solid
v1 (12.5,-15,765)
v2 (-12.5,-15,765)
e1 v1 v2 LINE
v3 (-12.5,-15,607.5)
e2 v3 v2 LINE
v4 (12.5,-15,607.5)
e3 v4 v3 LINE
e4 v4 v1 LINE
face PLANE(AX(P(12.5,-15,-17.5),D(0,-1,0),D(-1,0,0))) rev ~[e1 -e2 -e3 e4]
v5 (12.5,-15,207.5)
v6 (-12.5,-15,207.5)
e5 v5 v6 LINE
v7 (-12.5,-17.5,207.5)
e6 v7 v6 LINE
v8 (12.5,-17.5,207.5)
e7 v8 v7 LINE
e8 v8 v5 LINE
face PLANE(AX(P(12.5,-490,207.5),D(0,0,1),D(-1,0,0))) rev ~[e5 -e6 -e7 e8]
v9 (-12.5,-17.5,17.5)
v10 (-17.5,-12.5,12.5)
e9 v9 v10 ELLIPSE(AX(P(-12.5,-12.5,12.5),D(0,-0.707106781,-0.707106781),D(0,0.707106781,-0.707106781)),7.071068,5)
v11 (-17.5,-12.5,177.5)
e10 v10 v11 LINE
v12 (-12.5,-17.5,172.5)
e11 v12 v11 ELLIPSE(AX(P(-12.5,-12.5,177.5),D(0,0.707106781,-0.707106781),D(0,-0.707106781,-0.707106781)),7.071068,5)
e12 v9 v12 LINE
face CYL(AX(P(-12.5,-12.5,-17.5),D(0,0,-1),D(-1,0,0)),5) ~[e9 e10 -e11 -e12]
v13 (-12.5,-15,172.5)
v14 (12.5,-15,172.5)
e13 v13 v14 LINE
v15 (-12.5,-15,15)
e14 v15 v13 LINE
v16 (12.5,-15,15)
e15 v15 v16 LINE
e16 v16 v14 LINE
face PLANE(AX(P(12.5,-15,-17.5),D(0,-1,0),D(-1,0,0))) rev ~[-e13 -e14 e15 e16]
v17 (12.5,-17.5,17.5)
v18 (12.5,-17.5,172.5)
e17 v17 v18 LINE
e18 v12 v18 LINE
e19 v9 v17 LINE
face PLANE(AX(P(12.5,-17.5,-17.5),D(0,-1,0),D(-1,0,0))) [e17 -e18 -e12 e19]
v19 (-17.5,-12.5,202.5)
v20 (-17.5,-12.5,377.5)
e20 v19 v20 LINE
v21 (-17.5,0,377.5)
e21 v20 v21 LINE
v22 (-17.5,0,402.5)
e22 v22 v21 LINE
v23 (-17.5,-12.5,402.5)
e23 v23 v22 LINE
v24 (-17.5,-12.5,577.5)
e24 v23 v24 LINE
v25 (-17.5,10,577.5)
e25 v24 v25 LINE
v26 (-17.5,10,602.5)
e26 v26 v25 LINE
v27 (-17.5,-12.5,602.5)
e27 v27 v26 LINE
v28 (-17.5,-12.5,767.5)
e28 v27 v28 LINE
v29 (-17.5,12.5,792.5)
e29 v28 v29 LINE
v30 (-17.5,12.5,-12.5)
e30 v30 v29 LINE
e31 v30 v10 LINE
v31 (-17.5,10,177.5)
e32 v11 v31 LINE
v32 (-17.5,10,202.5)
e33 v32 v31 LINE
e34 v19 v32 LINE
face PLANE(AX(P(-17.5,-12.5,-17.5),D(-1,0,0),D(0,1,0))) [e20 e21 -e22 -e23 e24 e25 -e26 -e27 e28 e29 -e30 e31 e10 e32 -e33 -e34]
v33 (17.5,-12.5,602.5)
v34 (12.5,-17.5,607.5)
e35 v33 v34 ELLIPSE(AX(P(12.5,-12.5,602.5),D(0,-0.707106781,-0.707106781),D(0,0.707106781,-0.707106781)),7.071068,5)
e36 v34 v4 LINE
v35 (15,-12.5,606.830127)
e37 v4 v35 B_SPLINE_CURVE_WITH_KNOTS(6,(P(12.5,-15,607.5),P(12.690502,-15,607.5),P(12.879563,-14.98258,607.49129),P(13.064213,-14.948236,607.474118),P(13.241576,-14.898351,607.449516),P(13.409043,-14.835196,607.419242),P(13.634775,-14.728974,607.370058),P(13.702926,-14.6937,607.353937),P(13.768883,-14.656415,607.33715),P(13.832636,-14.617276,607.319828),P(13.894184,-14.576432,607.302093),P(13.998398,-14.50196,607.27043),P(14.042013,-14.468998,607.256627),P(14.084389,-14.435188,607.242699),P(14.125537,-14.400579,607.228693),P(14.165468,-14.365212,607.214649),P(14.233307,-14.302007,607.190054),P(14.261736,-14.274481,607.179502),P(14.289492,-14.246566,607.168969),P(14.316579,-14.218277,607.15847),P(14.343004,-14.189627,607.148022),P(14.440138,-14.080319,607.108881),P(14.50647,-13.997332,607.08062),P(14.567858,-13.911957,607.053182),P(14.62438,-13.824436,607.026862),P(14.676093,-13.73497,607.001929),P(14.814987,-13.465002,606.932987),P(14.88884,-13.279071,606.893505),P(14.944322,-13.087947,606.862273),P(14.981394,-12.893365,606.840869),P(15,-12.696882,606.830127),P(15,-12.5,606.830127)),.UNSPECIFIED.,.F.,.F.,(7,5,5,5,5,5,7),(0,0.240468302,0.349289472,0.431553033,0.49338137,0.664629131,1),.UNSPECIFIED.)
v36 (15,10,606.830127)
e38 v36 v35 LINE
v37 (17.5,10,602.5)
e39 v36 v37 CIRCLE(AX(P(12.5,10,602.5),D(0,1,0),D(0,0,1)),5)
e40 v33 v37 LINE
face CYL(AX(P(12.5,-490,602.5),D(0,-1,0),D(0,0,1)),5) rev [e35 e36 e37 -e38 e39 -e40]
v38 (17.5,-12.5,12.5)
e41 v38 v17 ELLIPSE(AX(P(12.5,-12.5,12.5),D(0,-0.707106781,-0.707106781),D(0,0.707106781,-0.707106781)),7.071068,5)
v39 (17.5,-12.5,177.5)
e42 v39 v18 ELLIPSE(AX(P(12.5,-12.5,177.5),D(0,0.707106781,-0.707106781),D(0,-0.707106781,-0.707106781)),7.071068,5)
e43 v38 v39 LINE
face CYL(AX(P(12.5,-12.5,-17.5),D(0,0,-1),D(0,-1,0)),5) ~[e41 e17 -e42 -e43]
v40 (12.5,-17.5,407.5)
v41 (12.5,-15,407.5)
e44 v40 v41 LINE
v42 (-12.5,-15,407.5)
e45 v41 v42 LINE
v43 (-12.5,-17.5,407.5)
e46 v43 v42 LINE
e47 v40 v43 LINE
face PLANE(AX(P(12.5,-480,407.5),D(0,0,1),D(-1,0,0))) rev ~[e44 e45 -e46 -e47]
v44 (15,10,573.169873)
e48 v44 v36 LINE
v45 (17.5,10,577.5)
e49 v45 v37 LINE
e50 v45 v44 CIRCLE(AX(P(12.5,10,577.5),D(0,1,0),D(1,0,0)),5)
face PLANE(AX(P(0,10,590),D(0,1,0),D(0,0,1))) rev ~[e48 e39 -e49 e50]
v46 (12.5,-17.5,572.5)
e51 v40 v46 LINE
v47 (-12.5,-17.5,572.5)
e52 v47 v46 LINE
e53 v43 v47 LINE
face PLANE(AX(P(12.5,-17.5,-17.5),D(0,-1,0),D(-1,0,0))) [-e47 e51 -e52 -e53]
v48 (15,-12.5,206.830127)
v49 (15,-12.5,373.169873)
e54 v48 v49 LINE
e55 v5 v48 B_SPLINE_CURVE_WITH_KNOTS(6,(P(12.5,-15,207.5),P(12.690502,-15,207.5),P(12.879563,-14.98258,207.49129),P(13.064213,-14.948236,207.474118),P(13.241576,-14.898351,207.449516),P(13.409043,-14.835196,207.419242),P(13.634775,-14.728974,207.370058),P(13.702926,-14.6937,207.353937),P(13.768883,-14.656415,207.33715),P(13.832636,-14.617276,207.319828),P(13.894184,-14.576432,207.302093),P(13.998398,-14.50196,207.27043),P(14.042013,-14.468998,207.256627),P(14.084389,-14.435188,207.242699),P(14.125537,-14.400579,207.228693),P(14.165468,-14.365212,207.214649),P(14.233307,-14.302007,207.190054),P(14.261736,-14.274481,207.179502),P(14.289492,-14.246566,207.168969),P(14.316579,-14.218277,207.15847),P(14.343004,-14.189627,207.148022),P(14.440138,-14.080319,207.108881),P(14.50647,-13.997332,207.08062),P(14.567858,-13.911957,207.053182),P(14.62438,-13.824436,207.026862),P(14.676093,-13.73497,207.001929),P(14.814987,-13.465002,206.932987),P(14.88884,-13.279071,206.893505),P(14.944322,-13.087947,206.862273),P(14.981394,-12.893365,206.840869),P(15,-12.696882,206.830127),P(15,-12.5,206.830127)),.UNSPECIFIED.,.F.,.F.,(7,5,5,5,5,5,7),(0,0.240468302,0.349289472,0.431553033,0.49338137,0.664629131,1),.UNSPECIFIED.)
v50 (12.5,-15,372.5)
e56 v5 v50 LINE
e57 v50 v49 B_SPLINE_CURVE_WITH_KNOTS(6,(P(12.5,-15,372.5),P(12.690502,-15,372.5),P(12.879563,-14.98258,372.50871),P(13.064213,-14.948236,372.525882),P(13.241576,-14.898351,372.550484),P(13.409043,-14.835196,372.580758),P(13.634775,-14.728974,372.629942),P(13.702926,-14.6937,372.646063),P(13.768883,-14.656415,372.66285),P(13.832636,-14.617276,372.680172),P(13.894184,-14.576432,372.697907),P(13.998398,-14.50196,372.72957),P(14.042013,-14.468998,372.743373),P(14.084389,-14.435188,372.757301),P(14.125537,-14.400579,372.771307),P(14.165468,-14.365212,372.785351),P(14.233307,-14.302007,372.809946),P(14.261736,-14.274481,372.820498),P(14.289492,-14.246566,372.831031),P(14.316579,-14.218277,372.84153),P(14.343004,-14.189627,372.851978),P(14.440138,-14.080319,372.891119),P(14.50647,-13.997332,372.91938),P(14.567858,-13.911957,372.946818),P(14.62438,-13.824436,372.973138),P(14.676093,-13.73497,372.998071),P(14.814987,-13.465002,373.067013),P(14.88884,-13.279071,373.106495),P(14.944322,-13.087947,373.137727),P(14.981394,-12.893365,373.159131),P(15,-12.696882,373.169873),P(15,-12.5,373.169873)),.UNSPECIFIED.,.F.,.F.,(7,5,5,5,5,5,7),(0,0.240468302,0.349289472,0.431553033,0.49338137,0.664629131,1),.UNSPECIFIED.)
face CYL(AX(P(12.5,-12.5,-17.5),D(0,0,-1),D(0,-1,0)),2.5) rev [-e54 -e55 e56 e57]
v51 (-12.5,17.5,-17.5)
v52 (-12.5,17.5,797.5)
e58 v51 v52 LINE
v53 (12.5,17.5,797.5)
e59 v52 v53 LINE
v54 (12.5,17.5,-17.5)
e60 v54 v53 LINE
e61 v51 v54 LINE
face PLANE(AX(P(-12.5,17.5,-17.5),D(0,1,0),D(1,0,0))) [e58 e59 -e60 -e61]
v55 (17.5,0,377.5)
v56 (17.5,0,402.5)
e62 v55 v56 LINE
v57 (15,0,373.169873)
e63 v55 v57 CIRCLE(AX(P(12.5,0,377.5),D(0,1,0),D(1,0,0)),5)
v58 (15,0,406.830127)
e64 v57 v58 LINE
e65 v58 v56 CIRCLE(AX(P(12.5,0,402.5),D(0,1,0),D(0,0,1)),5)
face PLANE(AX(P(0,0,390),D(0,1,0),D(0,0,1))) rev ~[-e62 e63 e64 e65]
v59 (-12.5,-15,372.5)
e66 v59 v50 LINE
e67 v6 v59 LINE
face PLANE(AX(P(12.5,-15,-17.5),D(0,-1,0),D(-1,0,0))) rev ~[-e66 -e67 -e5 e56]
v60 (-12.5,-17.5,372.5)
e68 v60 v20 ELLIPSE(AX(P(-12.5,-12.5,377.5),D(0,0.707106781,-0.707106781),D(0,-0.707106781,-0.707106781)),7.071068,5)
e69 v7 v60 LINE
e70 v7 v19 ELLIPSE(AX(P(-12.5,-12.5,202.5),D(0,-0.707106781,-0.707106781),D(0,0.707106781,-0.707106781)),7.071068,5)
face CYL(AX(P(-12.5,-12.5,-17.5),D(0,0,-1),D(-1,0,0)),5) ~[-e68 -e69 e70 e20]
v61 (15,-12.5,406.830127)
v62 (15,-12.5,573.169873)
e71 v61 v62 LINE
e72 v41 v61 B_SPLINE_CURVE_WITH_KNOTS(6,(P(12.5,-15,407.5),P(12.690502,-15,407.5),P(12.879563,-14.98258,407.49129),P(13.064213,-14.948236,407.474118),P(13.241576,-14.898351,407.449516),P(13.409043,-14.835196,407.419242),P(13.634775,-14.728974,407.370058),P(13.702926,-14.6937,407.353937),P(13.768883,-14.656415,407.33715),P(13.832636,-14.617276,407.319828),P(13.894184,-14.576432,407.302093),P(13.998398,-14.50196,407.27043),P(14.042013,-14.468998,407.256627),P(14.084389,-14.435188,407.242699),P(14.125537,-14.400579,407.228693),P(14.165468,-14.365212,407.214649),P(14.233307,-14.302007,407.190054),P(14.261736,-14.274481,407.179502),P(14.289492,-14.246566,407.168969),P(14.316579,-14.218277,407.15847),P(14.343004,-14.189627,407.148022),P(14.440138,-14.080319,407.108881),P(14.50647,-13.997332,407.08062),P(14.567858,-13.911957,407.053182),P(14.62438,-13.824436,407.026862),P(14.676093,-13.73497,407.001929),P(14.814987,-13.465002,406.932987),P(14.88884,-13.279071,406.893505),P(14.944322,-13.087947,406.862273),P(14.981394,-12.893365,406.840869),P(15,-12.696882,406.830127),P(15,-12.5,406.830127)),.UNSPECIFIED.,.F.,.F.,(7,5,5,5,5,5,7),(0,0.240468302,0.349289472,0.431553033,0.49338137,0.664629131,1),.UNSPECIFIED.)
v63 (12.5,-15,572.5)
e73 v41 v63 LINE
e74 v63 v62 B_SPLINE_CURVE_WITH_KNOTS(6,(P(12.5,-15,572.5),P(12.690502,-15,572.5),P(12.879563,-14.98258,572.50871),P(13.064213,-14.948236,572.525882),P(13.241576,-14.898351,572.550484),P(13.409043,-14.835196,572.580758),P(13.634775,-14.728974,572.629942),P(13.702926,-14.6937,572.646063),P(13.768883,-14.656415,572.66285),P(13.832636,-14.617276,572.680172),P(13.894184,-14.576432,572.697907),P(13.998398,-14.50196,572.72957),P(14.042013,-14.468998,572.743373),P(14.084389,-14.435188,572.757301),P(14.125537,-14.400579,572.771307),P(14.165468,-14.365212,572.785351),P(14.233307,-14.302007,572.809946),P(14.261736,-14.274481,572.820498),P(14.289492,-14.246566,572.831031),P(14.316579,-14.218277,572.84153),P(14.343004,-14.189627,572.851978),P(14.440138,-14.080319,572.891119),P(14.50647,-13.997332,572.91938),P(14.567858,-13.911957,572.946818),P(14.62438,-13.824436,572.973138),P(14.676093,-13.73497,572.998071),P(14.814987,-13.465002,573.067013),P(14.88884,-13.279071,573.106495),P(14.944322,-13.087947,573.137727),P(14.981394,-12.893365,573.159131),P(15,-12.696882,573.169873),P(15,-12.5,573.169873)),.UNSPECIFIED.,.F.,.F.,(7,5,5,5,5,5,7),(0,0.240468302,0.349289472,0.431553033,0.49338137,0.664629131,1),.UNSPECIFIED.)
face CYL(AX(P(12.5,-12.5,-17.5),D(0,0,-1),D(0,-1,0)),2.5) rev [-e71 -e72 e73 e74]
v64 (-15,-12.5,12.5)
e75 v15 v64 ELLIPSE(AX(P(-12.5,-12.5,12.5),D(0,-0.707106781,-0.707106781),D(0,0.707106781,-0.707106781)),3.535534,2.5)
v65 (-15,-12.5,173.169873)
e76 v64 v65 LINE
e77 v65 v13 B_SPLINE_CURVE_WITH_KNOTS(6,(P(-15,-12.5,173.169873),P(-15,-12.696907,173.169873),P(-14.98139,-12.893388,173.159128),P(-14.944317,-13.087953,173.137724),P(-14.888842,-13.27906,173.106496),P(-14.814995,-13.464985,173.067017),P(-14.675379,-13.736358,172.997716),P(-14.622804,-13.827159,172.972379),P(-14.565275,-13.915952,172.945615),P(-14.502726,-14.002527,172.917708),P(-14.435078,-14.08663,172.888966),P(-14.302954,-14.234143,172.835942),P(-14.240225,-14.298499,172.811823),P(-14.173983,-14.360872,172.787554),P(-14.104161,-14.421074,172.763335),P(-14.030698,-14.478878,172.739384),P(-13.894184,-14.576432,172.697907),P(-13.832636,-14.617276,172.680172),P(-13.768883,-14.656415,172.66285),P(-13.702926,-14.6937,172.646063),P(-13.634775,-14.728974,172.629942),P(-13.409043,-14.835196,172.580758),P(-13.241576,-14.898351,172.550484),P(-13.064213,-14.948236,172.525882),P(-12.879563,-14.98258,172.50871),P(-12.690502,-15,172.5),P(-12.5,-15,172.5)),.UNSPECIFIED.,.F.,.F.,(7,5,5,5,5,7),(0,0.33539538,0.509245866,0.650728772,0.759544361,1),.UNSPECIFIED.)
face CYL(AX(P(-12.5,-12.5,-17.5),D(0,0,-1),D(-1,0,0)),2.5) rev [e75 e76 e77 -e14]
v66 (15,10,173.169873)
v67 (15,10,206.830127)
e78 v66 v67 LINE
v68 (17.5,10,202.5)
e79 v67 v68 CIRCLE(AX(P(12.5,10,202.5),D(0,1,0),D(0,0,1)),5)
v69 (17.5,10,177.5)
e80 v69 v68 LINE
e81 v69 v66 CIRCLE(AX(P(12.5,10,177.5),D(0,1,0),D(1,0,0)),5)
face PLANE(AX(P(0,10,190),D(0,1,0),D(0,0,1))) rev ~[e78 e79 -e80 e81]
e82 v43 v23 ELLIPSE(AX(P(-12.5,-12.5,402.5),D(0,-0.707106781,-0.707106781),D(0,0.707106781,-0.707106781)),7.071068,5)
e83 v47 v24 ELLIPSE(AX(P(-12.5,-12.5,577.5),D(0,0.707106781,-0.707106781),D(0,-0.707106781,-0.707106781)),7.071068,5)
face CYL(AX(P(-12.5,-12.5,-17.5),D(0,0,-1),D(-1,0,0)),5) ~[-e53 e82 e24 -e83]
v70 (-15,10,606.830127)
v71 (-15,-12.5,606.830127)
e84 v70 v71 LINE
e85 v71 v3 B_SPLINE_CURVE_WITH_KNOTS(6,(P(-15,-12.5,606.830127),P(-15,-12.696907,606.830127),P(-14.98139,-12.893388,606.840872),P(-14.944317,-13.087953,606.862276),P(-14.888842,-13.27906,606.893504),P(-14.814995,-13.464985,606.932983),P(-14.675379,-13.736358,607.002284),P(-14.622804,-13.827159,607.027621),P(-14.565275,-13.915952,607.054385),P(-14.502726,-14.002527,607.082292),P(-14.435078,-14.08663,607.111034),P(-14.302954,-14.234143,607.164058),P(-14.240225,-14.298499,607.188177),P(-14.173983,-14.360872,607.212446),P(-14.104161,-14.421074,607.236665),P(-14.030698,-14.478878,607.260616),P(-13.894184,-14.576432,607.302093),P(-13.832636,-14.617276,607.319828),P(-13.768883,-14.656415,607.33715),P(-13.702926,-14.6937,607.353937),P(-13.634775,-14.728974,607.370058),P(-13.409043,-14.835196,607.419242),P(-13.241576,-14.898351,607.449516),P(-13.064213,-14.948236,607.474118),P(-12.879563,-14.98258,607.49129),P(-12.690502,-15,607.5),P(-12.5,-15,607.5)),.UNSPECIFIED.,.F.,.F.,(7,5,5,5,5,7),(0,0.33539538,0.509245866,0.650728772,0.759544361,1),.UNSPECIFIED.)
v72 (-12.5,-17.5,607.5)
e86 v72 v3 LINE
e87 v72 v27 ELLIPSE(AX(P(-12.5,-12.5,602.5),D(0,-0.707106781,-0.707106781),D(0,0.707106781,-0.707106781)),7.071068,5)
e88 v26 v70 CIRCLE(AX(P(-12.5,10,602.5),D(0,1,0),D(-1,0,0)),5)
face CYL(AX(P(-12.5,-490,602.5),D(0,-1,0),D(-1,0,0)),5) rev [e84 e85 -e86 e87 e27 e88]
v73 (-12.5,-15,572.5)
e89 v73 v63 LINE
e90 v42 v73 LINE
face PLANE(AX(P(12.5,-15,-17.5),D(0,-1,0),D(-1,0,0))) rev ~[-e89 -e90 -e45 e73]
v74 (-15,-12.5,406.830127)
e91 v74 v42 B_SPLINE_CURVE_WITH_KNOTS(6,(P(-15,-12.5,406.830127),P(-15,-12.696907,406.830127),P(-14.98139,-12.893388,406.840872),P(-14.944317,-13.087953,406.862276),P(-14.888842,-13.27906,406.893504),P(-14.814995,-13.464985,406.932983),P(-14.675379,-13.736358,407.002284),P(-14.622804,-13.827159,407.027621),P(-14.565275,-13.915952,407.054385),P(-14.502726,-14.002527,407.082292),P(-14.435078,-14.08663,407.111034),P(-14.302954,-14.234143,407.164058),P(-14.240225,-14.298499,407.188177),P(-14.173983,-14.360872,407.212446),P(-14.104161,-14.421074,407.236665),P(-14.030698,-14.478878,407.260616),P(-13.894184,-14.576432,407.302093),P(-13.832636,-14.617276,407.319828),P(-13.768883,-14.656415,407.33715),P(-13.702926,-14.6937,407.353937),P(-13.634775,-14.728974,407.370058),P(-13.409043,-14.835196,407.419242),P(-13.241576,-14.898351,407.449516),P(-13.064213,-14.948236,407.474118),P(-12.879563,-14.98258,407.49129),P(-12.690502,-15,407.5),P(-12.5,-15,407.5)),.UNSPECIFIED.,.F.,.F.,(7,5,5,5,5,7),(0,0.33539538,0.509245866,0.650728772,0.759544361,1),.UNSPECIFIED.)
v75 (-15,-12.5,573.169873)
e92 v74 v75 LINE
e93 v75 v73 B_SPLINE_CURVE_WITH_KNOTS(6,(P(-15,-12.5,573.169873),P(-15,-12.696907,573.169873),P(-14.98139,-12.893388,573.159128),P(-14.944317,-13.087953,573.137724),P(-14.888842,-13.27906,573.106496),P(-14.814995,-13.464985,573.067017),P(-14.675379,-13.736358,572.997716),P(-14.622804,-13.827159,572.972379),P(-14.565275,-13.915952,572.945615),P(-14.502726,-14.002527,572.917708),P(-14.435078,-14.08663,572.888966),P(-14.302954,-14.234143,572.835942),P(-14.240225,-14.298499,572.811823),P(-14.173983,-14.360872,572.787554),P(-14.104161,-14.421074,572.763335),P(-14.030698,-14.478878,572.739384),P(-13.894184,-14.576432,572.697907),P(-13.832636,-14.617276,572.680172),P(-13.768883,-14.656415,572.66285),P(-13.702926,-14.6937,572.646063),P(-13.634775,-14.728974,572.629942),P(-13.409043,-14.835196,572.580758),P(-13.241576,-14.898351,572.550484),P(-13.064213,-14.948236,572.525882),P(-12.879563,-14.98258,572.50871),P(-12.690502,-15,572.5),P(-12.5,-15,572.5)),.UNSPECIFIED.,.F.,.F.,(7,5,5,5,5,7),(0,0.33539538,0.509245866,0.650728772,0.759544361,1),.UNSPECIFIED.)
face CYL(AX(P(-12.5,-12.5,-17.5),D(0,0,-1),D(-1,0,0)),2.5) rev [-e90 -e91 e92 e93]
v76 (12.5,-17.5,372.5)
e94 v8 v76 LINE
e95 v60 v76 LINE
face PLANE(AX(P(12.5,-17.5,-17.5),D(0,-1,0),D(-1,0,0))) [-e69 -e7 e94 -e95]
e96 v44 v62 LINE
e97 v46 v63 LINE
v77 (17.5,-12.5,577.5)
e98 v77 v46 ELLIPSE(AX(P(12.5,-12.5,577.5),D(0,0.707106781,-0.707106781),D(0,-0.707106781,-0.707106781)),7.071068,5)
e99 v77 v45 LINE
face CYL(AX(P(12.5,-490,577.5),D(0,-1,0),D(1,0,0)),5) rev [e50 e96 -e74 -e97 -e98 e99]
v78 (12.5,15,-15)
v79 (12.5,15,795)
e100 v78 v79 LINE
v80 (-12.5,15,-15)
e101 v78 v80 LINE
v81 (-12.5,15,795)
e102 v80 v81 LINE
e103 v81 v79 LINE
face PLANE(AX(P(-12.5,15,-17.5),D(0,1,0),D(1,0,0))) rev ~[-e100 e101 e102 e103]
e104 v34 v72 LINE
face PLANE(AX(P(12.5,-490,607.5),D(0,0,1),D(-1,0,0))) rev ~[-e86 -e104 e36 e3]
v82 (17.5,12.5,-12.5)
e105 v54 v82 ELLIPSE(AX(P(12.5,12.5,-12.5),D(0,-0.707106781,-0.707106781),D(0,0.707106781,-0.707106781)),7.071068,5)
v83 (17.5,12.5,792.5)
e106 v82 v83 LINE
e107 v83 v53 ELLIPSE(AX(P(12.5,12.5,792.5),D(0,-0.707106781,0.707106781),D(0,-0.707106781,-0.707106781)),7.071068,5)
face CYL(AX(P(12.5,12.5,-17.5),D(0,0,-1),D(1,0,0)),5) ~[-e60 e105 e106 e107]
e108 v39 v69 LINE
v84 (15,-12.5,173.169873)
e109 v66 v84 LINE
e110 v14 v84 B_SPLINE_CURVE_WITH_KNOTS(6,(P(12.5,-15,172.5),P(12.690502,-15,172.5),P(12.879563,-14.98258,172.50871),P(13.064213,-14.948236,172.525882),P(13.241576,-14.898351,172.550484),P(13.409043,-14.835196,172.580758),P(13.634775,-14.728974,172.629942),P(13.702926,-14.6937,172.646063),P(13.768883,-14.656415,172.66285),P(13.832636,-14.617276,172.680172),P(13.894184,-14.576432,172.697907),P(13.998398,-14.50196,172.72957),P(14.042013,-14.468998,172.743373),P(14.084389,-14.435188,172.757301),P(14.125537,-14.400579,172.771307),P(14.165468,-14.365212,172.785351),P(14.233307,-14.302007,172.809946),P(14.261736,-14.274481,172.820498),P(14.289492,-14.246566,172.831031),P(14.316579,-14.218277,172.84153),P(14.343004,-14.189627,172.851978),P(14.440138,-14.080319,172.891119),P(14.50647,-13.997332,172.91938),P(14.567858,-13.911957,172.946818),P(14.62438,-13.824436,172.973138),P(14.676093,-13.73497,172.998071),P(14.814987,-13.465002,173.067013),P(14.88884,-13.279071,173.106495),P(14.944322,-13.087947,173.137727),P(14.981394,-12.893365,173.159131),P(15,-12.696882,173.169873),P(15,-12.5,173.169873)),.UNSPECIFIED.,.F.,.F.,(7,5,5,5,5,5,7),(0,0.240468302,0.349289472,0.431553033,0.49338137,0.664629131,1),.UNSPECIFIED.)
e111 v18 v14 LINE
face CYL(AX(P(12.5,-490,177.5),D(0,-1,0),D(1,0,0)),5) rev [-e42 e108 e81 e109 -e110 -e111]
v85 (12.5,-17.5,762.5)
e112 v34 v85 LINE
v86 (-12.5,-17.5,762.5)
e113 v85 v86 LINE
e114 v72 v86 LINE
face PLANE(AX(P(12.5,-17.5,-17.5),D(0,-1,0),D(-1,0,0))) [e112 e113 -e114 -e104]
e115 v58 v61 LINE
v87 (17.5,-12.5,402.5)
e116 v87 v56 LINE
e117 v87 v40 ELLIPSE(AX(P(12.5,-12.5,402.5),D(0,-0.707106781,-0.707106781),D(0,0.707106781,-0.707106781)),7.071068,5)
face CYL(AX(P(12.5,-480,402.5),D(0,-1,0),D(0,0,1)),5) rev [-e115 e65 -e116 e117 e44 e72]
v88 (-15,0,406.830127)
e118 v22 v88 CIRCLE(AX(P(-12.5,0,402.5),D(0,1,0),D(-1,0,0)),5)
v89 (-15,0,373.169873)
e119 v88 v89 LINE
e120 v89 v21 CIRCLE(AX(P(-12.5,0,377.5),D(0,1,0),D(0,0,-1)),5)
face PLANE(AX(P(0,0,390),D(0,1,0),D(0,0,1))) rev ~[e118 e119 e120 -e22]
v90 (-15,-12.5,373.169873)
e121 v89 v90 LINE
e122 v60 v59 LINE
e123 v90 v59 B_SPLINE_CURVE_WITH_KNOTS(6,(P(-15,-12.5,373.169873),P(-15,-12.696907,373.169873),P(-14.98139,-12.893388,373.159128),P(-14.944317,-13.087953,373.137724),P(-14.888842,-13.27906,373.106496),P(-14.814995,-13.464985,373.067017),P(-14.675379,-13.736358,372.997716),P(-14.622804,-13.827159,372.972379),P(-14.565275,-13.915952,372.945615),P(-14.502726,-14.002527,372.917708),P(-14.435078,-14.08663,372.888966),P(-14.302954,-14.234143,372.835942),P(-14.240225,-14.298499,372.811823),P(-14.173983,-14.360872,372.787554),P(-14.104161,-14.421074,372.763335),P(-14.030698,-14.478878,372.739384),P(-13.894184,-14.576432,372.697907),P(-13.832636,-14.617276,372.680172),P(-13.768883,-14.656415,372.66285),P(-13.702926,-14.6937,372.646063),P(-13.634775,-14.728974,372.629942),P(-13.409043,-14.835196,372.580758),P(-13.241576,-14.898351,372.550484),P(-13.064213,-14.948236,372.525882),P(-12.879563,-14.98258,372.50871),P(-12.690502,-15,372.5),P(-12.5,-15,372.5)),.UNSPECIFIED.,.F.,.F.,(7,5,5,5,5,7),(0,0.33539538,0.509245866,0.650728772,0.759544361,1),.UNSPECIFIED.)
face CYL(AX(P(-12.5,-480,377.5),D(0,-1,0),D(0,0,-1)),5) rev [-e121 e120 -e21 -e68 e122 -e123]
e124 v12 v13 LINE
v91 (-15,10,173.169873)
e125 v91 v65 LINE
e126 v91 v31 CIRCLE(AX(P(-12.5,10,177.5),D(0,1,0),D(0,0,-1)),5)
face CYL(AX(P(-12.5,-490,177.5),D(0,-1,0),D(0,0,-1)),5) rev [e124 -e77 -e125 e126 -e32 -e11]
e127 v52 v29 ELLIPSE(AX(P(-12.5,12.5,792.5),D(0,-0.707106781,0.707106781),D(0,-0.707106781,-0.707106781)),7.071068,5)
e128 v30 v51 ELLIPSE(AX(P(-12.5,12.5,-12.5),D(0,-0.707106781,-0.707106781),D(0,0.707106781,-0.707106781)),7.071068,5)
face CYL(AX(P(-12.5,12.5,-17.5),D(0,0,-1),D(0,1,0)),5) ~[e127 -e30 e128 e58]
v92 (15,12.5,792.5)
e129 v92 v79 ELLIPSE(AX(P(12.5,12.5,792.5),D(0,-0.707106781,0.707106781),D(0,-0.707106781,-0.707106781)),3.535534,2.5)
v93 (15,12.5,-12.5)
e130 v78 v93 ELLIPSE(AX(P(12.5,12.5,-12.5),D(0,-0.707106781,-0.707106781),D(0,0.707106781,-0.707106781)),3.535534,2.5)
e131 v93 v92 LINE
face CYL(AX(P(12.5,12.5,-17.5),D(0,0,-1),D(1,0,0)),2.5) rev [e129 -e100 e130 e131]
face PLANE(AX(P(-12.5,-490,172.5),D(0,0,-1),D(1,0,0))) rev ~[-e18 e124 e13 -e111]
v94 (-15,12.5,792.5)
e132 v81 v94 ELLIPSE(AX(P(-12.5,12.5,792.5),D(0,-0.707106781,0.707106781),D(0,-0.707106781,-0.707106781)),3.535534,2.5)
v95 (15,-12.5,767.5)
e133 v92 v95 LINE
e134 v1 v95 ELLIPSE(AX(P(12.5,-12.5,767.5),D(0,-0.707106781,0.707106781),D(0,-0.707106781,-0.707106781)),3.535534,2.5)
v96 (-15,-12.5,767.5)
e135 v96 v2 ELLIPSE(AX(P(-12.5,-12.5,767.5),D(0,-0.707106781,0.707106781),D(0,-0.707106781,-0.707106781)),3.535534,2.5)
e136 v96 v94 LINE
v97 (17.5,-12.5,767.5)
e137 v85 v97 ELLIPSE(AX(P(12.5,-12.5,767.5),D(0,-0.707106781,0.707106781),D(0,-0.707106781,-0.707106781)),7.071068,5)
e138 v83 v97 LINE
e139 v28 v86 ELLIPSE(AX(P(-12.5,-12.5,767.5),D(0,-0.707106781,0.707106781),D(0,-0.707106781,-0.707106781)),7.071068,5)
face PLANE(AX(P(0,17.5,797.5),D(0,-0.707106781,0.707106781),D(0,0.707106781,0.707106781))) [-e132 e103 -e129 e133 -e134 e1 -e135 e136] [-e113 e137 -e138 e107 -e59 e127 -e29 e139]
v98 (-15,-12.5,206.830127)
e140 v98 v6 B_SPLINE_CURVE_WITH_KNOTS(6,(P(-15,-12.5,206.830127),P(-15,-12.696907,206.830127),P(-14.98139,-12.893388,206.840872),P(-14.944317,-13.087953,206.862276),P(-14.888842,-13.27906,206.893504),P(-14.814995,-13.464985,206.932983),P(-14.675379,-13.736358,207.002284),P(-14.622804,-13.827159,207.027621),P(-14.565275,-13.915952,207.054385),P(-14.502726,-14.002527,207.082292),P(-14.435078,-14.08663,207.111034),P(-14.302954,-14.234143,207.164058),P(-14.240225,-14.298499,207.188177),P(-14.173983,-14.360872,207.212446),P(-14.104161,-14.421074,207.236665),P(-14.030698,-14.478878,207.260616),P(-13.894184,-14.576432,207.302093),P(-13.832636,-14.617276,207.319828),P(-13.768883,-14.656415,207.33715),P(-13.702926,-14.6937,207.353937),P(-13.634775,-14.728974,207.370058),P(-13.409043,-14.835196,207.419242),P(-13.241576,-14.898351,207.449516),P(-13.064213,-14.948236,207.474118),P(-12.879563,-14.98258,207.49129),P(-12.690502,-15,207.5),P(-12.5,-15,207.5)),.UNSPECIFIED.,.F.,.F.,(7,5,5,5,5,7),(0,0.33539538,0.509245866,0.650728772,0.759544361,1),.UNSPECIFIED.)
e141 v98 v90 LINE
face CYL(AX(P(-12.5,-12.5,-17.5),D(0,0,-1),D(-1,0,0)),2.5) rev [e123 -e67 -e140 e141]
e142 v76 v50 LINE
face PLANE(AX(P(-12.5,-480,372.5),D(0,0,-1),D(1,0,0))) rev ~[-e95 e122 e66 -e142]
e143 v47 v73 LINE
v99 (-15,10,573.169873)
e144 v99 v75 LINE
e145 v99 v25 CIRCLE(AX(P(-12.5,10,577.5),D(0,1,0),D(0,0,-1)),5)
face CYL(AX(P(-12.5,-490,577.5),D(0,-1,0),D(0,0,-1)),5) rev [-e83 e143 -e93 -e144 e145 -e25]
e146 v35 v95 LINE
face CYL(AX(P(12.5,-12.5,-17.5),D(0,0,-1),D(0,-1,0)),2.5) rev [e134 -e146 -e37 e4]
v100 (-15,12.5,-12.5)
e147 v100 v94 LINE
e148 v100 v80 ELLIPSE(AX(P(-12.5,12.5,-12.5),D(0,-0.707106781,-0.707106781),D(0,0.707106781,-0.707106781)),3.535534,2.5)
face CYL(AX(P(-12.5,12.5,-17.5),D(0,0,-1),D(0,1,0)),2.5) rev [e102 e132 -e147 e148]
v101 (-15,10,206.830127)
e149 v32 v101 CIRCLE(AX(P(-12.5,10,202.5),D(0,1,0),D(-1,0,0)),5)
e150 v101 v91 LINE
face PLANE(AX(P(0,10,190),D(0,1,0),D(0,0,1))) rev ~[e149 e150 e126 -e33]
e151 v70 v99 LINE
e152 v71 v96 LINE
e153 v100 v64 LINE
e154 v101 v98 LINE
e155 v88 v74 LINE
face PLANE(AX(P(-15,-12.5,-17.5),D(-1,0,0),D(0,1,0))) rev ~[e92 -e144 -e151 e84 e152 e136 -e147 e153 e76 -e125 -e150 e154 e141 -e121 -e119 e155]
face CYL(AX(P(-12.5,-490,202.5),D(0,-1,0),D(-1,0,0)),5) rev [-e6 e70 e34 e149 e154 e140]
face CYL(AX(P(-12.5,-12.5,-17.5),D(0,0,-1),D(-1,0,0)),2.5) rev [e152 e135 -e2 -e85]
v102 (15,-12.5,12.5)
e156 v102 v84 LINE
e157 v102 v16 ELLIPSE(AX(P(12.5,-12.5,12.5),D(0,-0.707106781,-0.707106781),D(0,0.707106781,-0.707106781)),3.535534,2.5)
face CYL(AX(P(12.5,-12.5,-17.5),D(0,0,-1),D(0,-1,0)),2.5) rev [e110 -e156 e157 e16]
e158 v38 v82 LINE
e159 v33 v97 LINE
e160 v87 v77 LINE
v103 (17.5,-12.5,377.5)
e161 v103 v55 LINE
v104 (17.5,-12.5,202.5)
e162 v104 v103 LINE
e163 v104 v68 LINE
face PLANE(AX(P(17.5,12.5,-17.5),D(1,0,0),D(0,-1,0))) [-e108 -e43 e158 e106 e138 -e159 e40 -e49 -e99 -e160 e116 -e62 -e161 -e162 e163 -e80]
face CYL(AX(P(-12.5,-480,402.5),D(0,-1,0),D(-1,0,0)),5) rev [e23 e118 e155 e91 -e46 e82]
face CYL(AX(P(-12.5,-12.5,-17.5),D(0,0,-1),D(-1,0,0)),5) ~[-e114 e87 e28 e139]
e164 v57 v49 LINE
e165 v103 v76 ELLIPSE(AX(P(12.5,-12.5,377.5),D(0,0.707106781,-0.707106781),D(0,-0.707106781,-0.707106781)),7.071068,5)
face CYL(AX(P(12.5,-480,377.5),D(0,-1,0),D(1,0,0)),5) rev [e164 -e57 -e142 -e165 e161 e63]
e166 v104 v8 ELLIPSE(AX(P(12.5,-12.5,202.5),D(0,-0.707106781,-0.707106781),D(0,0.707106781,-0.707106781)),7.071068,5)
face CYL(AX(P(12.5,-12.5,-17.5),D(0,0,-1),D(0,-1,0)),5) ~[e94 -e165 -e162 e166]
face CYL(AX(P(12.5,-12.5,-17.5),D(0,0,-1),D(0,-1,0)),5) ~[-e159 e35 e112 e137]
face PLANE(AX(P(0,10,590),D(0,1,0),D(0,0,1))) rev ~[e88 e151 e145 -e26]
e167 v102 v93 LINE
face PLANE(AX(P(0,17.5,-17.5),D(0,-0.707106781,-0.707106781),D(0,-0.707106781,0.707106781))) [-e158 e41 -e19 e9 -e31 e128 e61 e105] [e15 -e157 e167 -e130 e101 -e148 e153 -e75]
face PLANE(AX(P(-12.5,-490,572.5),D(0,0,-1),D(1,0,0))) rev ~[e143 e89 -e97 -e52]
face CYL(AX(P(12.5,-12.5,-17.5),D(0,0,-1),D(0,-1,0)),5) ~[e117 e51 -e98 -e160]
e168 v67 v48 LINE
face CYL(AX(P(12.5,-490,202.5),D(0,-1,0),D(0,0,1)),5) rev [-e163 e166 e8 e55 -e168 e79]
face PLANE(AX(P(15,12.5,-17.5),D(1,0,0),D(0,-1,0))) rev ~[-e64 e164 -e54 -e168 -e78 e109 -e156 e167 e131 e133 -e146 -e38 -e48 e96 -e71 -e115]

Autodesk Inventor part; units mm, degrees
ref_plane "Start plane" through (0, 0, -17.5) normal (0, 0, 1) x (1, 0, 0)
ref_plane "End plane" through (0, 0, 797.5) normal (0, 0, 1) x (1, 0, 0)
sketch "Sketch" plane through (0, 0, 0) normal (0, 0, 1) x (1, 0, 0)
  line L0 (-17.5, -12.5) -> (-17.5, 12.5)
  line L1 (-12.5, 17.5) -> (12.5, 17.5)
  line L2 (17.5, 12.5) -> (17.5, -12.5)
  line L3 (12.5, -17.5) -> (-12.5, -17.5)
  arc A0 (-17.5, -12.5) -> (-12.5, -17.5) centre (-12.5, -12.5) ccw
  arc A1 (-12.5, 17.5) -> (-17.5, 12.5) centre (-12.5, 12.5) ccw
  arc A2 (17.5, 12.5) -> (12.5, 17.5) centre (12.5, 12.5) ccw
  arc A3 (12.5, -17.5) -> (17.5, -12.5) centre (12.5, -12.5) ccw
  arc A4 (-12.5, 15) -> (-15, 12.5) centre (-12.5, 12.5) ccw
  line L4 (-12.5, 15) -> (12.5, 15)
  arc A5 (15, 12.5) -> (12.5, 15) centre (12.5, 12.5) ccw
  line L5 (15, 12.5) -> (15, -12.5)
  arc A6 (12.5, -15) -> (15, -12.5) centre (12.5, -12.5) ccw
  line L6 (12.5, -15) -> (-12.5, -15)
  arc A7 (-15, -12.5) -> (-12.5, -15) centre (-12.5, -12.5) ccw
  line L7 (-15, -12.5) -> (-15, 12.5)
  line L8 (0, 25.9497) -> (0, -25.9497) construction
  line L9 (-25.9497, 0) -> (25.9497, 0) construction
  dimension "d7" = 5
  dimension "d10" = 35
  dimension "d11" = 35
  dimension "d12" = 2.5
  dimension "d15" = 17.5
  dimension "d16" = 17.5
extrude "Body" add sketch "Sketch" along normal up to surface (815 mm away) from surface at -17.5
sketch "Sketch3" plane through (0, 0, 0) normal (0, 0, 1) x (1, 0, 0)
  line L0 (0, 0) -> (10, 0)
ref_plane "Work Plane3" through (0, 0, 0) normal (0, -1, 0) x (1, 0, 0)
sketch "Sketch4" plane through (0, 0, 0) normal (0, -1, 0) x (1, 0, 0)
  line L0 (-2, -17.5) -> (12, -17.5)
  line L1 (-2, 797.5) -> (12, 797.5)
  dimension "d18" = 815
ref_plane "Work Plane12" through (82.5, 0, -17.5) normal (0, 0, -1) x (-1, 0, 0)
split "Split3" plane through (82.5, 0, -17.5) removes the side toward (0, 0, -1)
ref_plane "Work Plane13" through (0, 17.5, -17.5) normal (0, -0.7071, -0.7071) x (1, 0, 0)
split "Split4" plane through (0, 17.5, -17.5) removes the side toward (0, -0.7071, -0.7071)
ref_plane "Work Plane16" through (0, 17.5, 797.5) normal (0, -0.7071, 0.7071) x (1, 0, 0)
split "Split7" plane through (0, 17.5, 797.5) removes the side toward (0, -0.7071, 0.7071)
ref_plane "Work Plane17" through (0, -490, 590) normal (0, 1, 0) x (0, 0, 1)
ref_plane "Work Plane18" through (0, 10, 590) normal (0, 1, 0) x (0, 0, 1)
ref_plane "Work Plane19" through (0, -240, 590) normal (0, 1, 0) x (0, 0, 1)
ref_plane "Work Plane20" through (0, -480, 390) normal (0, 1, 0) x (0, 0, 1)
ref_plane "Work Plane21" through (0, 0, 390) normal (0, 1, 0) x (0, 0, 1)
ref_plane "Work Plane22" through (0, -240, 390) normal (0, 1, 0) x (0, 0, 1)
ref_plane "Work Plane23" through (0, -490, 190) normal (0, 1, 0) x (0, 0, 1)
ref_plane "Work Plane24" through (0, 10, 190) normal (0, 1, 0) x (0, 0, 1)
ref_plane "Work Plane25" through (0, -240, 190) normal (0, 1, 0) x (0, 0, 1)
sketch "Sketch17" plane through (0, -240, 590) normal (0, 1, 0) x (0, 0, 1)
  arc A0 (-17.5, -12.5) -> (-12.5, -17.5) centre (-12.5, -12.5) ccw
  line L0 (-17.5, -12.5) -> (-17.5, 12.5)
  arc A1 (-12.5, 17.5) -> (-17.5, 12.5) centre (-12.5, 12.5) ccw
  line L1 (-12.5, 17.5) -> (12.5, 17.5)
  arc A2 (17.5, 12.5) -> (12.5, 17.5) centre (12.5, 12.5) ccw
  line L2 (17.5, 12.5) -> (17.5, -12.5)
  arc A3 (12.5, -17.5) -> (17.5, -12.5) centre (12.5, -12.5) ccw
  line L3 (12.5, -17.5) -> (-12.5, -17.5)
  arc A4 (-12.5, 15) -> (-15, 12.5) centre (-12.5, 12.5) ccw
  line L4 (-12.5, 15) -> (12.5, 15)
  arc A5 (15, 12.5) -> (12.5, 15) centre (12.5, 12.5) ccw
  line L5 (15, 12.5) -> (15, -12.5)
  arc A6 (12.5, -15) -> (15, -12.5) centre (12.5, -12.5) ccw
  line L6 (12.5, -15) -> (-12.5, -15)
  arc A7 (-15, -12.5) -> (-12.5, -15) centre (-12.5, -12.5) ccw
  line L7 (-15, -12.5) -> (-15, 12.5)
extrude "Extrusion14" cut sketch "Sketch17" along normal up to surface (500 mm away) from surface at -250 contours L0 A1 L1 A2 L2 A3 L3 A0 | L4 A5 L5 A6 L6 A7 L7 A4
sketch "Sketch18" plane through (0, -240, 390) normal (0, 1, 0) x (0, 0, 1)
  arc A0 (-17.5, -12.5) -> (-12.5, -17.5) centre (-12.5, -12.5) ccw
  line L0 (-17.5, -12.5) -> (-17.5, 12.5)
  arc A1 (-12.5, 17.5) -> (-17.5, 12.5) centre (-12.5, 12.5) ccw
  line L1 (-12.5, 17.5) -> (12.5, 17.5)
  arc A2 (17.5, 12.5) -> (12.5, 17.5) centre (12.5, 12.5) ccw
  line L2 (17.5, 12.5) -> (17.5, -12.5)
  arc A3 (12.5, -17.5) -> (17.5, -12.5) centre (12.5, -12.5) ccw
  line L3 (12.5, -17.5) -> (-12.5, -17.5)
  arc A4 (-12.5, 15) -> (-15, 12.5) centre (-12.5, 12.5) ccw
  line L4 (-12.5, 15) -> (12.5, 15)
  arc A5 (15, 12.5) -> (12.5, 15) centre (12.5, 12.5) ccw
  line L5 (15, 12.5) -> (15, -12.5)
  arc A6 (12.5, -15) -> (15, -12.5) centre (12.5, -12.5) ccw
  line L6 (12.5, -15) -> (-12.5, -15)
  arc A7 (-15, -12.5) -> (-12.5, -15) centre (-12.5, -12.5) ccw
  line L7 (-15, -12.5) -> (-15, 12.5)
extrude "Extrusion15" cut sketch "Sketch18" along normal up to surface (480 mm away) from surface at -240 contours L0 A1 L1 A2 L2 A3 L3 A0 | L4 A5 L5 A6 L6 A7 L7 A4
sketch "Sketch19" plane through (0, -240, 190) normal (0, 1, 0) x (0, 0, 1)
  arc A0 (-17.5, -12.5) -> (-12.5, -17.5) centre (-12.5, -12.5) ccw
  line L0 (-17.5, -12.5) -> (-17.5, 12.5)
  arc A1 (-12.5, 17.5) -> (-17.5, 12.5) centre (-12.5, 12.5) ccw
  line L1 (-12.5, 17.5) -> (12.5, 17.5)
  arc A2 (17.5, 12.5) -> (12.5, 17.5) centre (12.5, 12.5) ccw
  line L2 (17.5, 12.5) -> (17.5, -12.5)
  arc A3 (12.5, -17.5) -> (17.5, -12.5) centre (12.5, -12.5) ccw
  line L3 (12.5, -17.5) -> (-12.5, -17.5)
  arc A4 (-12.5, 15) -> (-15, 12.5) centre (-12.5, 12.5) ccw
  line L4 (-12.5, 15) -> (12.5, 15)
  arc A5 (15, 12.5) -> (12.5, 15) centre (12.5, 12.5) ccw
  line L5 (15, 12.5) -> (15, -12.5)
  arc A6 (12.5, -15) -> (15, -12.5) centre (12.5, -12.5) ccw
  line L6 (12.5, -15) -> (-12.5, -15)
  arc A7 (-15, -12.5) -> (-12.5, -15) centre (-12.5, -12.5) ccw
  line L7 (-15, -12.5) -> (-15, 12.5)
extrude "Extrusion16" cut sketch "Sketch19" along normal up to surface (500 mm away) from surface at -250 contours L0 A1 L1 A2 L2 A3 L3 A0 | L4 A5 L5 A6 L6 A7 L7 A4
equation "\"d7\" = G_IR"
equation "\"d10\" = G_H"
equation "\"d11\" = G_W"
equation "\"d12\" = G_T"
equation "\"d15\" = 0.5 * d10"
equation "\"d16\" = 0.5 * d11"
equation "\"d3\" = G_L"
equation "\"G_W\" = 35"
equation "\"G_H\" = 35"
equation "\"G_T\" = 2.5"
equation "\"G_IR\" = 5"
equation "\"G_L\" = 835"
equation "\"G_OFFSET_START\" = 17.5"
equation "\"G_OFFSET_END\" = 17.5"
equation "\"d13\" = -G_OFFSET_START"
equation "\"d14\" = G_OFFSET_END + B_L"
equation "\"B_L\" = 780"
properties part number "AS 1163 - C350L0 35x35x2.5 SHS - 835" material "Steel, Mild"
